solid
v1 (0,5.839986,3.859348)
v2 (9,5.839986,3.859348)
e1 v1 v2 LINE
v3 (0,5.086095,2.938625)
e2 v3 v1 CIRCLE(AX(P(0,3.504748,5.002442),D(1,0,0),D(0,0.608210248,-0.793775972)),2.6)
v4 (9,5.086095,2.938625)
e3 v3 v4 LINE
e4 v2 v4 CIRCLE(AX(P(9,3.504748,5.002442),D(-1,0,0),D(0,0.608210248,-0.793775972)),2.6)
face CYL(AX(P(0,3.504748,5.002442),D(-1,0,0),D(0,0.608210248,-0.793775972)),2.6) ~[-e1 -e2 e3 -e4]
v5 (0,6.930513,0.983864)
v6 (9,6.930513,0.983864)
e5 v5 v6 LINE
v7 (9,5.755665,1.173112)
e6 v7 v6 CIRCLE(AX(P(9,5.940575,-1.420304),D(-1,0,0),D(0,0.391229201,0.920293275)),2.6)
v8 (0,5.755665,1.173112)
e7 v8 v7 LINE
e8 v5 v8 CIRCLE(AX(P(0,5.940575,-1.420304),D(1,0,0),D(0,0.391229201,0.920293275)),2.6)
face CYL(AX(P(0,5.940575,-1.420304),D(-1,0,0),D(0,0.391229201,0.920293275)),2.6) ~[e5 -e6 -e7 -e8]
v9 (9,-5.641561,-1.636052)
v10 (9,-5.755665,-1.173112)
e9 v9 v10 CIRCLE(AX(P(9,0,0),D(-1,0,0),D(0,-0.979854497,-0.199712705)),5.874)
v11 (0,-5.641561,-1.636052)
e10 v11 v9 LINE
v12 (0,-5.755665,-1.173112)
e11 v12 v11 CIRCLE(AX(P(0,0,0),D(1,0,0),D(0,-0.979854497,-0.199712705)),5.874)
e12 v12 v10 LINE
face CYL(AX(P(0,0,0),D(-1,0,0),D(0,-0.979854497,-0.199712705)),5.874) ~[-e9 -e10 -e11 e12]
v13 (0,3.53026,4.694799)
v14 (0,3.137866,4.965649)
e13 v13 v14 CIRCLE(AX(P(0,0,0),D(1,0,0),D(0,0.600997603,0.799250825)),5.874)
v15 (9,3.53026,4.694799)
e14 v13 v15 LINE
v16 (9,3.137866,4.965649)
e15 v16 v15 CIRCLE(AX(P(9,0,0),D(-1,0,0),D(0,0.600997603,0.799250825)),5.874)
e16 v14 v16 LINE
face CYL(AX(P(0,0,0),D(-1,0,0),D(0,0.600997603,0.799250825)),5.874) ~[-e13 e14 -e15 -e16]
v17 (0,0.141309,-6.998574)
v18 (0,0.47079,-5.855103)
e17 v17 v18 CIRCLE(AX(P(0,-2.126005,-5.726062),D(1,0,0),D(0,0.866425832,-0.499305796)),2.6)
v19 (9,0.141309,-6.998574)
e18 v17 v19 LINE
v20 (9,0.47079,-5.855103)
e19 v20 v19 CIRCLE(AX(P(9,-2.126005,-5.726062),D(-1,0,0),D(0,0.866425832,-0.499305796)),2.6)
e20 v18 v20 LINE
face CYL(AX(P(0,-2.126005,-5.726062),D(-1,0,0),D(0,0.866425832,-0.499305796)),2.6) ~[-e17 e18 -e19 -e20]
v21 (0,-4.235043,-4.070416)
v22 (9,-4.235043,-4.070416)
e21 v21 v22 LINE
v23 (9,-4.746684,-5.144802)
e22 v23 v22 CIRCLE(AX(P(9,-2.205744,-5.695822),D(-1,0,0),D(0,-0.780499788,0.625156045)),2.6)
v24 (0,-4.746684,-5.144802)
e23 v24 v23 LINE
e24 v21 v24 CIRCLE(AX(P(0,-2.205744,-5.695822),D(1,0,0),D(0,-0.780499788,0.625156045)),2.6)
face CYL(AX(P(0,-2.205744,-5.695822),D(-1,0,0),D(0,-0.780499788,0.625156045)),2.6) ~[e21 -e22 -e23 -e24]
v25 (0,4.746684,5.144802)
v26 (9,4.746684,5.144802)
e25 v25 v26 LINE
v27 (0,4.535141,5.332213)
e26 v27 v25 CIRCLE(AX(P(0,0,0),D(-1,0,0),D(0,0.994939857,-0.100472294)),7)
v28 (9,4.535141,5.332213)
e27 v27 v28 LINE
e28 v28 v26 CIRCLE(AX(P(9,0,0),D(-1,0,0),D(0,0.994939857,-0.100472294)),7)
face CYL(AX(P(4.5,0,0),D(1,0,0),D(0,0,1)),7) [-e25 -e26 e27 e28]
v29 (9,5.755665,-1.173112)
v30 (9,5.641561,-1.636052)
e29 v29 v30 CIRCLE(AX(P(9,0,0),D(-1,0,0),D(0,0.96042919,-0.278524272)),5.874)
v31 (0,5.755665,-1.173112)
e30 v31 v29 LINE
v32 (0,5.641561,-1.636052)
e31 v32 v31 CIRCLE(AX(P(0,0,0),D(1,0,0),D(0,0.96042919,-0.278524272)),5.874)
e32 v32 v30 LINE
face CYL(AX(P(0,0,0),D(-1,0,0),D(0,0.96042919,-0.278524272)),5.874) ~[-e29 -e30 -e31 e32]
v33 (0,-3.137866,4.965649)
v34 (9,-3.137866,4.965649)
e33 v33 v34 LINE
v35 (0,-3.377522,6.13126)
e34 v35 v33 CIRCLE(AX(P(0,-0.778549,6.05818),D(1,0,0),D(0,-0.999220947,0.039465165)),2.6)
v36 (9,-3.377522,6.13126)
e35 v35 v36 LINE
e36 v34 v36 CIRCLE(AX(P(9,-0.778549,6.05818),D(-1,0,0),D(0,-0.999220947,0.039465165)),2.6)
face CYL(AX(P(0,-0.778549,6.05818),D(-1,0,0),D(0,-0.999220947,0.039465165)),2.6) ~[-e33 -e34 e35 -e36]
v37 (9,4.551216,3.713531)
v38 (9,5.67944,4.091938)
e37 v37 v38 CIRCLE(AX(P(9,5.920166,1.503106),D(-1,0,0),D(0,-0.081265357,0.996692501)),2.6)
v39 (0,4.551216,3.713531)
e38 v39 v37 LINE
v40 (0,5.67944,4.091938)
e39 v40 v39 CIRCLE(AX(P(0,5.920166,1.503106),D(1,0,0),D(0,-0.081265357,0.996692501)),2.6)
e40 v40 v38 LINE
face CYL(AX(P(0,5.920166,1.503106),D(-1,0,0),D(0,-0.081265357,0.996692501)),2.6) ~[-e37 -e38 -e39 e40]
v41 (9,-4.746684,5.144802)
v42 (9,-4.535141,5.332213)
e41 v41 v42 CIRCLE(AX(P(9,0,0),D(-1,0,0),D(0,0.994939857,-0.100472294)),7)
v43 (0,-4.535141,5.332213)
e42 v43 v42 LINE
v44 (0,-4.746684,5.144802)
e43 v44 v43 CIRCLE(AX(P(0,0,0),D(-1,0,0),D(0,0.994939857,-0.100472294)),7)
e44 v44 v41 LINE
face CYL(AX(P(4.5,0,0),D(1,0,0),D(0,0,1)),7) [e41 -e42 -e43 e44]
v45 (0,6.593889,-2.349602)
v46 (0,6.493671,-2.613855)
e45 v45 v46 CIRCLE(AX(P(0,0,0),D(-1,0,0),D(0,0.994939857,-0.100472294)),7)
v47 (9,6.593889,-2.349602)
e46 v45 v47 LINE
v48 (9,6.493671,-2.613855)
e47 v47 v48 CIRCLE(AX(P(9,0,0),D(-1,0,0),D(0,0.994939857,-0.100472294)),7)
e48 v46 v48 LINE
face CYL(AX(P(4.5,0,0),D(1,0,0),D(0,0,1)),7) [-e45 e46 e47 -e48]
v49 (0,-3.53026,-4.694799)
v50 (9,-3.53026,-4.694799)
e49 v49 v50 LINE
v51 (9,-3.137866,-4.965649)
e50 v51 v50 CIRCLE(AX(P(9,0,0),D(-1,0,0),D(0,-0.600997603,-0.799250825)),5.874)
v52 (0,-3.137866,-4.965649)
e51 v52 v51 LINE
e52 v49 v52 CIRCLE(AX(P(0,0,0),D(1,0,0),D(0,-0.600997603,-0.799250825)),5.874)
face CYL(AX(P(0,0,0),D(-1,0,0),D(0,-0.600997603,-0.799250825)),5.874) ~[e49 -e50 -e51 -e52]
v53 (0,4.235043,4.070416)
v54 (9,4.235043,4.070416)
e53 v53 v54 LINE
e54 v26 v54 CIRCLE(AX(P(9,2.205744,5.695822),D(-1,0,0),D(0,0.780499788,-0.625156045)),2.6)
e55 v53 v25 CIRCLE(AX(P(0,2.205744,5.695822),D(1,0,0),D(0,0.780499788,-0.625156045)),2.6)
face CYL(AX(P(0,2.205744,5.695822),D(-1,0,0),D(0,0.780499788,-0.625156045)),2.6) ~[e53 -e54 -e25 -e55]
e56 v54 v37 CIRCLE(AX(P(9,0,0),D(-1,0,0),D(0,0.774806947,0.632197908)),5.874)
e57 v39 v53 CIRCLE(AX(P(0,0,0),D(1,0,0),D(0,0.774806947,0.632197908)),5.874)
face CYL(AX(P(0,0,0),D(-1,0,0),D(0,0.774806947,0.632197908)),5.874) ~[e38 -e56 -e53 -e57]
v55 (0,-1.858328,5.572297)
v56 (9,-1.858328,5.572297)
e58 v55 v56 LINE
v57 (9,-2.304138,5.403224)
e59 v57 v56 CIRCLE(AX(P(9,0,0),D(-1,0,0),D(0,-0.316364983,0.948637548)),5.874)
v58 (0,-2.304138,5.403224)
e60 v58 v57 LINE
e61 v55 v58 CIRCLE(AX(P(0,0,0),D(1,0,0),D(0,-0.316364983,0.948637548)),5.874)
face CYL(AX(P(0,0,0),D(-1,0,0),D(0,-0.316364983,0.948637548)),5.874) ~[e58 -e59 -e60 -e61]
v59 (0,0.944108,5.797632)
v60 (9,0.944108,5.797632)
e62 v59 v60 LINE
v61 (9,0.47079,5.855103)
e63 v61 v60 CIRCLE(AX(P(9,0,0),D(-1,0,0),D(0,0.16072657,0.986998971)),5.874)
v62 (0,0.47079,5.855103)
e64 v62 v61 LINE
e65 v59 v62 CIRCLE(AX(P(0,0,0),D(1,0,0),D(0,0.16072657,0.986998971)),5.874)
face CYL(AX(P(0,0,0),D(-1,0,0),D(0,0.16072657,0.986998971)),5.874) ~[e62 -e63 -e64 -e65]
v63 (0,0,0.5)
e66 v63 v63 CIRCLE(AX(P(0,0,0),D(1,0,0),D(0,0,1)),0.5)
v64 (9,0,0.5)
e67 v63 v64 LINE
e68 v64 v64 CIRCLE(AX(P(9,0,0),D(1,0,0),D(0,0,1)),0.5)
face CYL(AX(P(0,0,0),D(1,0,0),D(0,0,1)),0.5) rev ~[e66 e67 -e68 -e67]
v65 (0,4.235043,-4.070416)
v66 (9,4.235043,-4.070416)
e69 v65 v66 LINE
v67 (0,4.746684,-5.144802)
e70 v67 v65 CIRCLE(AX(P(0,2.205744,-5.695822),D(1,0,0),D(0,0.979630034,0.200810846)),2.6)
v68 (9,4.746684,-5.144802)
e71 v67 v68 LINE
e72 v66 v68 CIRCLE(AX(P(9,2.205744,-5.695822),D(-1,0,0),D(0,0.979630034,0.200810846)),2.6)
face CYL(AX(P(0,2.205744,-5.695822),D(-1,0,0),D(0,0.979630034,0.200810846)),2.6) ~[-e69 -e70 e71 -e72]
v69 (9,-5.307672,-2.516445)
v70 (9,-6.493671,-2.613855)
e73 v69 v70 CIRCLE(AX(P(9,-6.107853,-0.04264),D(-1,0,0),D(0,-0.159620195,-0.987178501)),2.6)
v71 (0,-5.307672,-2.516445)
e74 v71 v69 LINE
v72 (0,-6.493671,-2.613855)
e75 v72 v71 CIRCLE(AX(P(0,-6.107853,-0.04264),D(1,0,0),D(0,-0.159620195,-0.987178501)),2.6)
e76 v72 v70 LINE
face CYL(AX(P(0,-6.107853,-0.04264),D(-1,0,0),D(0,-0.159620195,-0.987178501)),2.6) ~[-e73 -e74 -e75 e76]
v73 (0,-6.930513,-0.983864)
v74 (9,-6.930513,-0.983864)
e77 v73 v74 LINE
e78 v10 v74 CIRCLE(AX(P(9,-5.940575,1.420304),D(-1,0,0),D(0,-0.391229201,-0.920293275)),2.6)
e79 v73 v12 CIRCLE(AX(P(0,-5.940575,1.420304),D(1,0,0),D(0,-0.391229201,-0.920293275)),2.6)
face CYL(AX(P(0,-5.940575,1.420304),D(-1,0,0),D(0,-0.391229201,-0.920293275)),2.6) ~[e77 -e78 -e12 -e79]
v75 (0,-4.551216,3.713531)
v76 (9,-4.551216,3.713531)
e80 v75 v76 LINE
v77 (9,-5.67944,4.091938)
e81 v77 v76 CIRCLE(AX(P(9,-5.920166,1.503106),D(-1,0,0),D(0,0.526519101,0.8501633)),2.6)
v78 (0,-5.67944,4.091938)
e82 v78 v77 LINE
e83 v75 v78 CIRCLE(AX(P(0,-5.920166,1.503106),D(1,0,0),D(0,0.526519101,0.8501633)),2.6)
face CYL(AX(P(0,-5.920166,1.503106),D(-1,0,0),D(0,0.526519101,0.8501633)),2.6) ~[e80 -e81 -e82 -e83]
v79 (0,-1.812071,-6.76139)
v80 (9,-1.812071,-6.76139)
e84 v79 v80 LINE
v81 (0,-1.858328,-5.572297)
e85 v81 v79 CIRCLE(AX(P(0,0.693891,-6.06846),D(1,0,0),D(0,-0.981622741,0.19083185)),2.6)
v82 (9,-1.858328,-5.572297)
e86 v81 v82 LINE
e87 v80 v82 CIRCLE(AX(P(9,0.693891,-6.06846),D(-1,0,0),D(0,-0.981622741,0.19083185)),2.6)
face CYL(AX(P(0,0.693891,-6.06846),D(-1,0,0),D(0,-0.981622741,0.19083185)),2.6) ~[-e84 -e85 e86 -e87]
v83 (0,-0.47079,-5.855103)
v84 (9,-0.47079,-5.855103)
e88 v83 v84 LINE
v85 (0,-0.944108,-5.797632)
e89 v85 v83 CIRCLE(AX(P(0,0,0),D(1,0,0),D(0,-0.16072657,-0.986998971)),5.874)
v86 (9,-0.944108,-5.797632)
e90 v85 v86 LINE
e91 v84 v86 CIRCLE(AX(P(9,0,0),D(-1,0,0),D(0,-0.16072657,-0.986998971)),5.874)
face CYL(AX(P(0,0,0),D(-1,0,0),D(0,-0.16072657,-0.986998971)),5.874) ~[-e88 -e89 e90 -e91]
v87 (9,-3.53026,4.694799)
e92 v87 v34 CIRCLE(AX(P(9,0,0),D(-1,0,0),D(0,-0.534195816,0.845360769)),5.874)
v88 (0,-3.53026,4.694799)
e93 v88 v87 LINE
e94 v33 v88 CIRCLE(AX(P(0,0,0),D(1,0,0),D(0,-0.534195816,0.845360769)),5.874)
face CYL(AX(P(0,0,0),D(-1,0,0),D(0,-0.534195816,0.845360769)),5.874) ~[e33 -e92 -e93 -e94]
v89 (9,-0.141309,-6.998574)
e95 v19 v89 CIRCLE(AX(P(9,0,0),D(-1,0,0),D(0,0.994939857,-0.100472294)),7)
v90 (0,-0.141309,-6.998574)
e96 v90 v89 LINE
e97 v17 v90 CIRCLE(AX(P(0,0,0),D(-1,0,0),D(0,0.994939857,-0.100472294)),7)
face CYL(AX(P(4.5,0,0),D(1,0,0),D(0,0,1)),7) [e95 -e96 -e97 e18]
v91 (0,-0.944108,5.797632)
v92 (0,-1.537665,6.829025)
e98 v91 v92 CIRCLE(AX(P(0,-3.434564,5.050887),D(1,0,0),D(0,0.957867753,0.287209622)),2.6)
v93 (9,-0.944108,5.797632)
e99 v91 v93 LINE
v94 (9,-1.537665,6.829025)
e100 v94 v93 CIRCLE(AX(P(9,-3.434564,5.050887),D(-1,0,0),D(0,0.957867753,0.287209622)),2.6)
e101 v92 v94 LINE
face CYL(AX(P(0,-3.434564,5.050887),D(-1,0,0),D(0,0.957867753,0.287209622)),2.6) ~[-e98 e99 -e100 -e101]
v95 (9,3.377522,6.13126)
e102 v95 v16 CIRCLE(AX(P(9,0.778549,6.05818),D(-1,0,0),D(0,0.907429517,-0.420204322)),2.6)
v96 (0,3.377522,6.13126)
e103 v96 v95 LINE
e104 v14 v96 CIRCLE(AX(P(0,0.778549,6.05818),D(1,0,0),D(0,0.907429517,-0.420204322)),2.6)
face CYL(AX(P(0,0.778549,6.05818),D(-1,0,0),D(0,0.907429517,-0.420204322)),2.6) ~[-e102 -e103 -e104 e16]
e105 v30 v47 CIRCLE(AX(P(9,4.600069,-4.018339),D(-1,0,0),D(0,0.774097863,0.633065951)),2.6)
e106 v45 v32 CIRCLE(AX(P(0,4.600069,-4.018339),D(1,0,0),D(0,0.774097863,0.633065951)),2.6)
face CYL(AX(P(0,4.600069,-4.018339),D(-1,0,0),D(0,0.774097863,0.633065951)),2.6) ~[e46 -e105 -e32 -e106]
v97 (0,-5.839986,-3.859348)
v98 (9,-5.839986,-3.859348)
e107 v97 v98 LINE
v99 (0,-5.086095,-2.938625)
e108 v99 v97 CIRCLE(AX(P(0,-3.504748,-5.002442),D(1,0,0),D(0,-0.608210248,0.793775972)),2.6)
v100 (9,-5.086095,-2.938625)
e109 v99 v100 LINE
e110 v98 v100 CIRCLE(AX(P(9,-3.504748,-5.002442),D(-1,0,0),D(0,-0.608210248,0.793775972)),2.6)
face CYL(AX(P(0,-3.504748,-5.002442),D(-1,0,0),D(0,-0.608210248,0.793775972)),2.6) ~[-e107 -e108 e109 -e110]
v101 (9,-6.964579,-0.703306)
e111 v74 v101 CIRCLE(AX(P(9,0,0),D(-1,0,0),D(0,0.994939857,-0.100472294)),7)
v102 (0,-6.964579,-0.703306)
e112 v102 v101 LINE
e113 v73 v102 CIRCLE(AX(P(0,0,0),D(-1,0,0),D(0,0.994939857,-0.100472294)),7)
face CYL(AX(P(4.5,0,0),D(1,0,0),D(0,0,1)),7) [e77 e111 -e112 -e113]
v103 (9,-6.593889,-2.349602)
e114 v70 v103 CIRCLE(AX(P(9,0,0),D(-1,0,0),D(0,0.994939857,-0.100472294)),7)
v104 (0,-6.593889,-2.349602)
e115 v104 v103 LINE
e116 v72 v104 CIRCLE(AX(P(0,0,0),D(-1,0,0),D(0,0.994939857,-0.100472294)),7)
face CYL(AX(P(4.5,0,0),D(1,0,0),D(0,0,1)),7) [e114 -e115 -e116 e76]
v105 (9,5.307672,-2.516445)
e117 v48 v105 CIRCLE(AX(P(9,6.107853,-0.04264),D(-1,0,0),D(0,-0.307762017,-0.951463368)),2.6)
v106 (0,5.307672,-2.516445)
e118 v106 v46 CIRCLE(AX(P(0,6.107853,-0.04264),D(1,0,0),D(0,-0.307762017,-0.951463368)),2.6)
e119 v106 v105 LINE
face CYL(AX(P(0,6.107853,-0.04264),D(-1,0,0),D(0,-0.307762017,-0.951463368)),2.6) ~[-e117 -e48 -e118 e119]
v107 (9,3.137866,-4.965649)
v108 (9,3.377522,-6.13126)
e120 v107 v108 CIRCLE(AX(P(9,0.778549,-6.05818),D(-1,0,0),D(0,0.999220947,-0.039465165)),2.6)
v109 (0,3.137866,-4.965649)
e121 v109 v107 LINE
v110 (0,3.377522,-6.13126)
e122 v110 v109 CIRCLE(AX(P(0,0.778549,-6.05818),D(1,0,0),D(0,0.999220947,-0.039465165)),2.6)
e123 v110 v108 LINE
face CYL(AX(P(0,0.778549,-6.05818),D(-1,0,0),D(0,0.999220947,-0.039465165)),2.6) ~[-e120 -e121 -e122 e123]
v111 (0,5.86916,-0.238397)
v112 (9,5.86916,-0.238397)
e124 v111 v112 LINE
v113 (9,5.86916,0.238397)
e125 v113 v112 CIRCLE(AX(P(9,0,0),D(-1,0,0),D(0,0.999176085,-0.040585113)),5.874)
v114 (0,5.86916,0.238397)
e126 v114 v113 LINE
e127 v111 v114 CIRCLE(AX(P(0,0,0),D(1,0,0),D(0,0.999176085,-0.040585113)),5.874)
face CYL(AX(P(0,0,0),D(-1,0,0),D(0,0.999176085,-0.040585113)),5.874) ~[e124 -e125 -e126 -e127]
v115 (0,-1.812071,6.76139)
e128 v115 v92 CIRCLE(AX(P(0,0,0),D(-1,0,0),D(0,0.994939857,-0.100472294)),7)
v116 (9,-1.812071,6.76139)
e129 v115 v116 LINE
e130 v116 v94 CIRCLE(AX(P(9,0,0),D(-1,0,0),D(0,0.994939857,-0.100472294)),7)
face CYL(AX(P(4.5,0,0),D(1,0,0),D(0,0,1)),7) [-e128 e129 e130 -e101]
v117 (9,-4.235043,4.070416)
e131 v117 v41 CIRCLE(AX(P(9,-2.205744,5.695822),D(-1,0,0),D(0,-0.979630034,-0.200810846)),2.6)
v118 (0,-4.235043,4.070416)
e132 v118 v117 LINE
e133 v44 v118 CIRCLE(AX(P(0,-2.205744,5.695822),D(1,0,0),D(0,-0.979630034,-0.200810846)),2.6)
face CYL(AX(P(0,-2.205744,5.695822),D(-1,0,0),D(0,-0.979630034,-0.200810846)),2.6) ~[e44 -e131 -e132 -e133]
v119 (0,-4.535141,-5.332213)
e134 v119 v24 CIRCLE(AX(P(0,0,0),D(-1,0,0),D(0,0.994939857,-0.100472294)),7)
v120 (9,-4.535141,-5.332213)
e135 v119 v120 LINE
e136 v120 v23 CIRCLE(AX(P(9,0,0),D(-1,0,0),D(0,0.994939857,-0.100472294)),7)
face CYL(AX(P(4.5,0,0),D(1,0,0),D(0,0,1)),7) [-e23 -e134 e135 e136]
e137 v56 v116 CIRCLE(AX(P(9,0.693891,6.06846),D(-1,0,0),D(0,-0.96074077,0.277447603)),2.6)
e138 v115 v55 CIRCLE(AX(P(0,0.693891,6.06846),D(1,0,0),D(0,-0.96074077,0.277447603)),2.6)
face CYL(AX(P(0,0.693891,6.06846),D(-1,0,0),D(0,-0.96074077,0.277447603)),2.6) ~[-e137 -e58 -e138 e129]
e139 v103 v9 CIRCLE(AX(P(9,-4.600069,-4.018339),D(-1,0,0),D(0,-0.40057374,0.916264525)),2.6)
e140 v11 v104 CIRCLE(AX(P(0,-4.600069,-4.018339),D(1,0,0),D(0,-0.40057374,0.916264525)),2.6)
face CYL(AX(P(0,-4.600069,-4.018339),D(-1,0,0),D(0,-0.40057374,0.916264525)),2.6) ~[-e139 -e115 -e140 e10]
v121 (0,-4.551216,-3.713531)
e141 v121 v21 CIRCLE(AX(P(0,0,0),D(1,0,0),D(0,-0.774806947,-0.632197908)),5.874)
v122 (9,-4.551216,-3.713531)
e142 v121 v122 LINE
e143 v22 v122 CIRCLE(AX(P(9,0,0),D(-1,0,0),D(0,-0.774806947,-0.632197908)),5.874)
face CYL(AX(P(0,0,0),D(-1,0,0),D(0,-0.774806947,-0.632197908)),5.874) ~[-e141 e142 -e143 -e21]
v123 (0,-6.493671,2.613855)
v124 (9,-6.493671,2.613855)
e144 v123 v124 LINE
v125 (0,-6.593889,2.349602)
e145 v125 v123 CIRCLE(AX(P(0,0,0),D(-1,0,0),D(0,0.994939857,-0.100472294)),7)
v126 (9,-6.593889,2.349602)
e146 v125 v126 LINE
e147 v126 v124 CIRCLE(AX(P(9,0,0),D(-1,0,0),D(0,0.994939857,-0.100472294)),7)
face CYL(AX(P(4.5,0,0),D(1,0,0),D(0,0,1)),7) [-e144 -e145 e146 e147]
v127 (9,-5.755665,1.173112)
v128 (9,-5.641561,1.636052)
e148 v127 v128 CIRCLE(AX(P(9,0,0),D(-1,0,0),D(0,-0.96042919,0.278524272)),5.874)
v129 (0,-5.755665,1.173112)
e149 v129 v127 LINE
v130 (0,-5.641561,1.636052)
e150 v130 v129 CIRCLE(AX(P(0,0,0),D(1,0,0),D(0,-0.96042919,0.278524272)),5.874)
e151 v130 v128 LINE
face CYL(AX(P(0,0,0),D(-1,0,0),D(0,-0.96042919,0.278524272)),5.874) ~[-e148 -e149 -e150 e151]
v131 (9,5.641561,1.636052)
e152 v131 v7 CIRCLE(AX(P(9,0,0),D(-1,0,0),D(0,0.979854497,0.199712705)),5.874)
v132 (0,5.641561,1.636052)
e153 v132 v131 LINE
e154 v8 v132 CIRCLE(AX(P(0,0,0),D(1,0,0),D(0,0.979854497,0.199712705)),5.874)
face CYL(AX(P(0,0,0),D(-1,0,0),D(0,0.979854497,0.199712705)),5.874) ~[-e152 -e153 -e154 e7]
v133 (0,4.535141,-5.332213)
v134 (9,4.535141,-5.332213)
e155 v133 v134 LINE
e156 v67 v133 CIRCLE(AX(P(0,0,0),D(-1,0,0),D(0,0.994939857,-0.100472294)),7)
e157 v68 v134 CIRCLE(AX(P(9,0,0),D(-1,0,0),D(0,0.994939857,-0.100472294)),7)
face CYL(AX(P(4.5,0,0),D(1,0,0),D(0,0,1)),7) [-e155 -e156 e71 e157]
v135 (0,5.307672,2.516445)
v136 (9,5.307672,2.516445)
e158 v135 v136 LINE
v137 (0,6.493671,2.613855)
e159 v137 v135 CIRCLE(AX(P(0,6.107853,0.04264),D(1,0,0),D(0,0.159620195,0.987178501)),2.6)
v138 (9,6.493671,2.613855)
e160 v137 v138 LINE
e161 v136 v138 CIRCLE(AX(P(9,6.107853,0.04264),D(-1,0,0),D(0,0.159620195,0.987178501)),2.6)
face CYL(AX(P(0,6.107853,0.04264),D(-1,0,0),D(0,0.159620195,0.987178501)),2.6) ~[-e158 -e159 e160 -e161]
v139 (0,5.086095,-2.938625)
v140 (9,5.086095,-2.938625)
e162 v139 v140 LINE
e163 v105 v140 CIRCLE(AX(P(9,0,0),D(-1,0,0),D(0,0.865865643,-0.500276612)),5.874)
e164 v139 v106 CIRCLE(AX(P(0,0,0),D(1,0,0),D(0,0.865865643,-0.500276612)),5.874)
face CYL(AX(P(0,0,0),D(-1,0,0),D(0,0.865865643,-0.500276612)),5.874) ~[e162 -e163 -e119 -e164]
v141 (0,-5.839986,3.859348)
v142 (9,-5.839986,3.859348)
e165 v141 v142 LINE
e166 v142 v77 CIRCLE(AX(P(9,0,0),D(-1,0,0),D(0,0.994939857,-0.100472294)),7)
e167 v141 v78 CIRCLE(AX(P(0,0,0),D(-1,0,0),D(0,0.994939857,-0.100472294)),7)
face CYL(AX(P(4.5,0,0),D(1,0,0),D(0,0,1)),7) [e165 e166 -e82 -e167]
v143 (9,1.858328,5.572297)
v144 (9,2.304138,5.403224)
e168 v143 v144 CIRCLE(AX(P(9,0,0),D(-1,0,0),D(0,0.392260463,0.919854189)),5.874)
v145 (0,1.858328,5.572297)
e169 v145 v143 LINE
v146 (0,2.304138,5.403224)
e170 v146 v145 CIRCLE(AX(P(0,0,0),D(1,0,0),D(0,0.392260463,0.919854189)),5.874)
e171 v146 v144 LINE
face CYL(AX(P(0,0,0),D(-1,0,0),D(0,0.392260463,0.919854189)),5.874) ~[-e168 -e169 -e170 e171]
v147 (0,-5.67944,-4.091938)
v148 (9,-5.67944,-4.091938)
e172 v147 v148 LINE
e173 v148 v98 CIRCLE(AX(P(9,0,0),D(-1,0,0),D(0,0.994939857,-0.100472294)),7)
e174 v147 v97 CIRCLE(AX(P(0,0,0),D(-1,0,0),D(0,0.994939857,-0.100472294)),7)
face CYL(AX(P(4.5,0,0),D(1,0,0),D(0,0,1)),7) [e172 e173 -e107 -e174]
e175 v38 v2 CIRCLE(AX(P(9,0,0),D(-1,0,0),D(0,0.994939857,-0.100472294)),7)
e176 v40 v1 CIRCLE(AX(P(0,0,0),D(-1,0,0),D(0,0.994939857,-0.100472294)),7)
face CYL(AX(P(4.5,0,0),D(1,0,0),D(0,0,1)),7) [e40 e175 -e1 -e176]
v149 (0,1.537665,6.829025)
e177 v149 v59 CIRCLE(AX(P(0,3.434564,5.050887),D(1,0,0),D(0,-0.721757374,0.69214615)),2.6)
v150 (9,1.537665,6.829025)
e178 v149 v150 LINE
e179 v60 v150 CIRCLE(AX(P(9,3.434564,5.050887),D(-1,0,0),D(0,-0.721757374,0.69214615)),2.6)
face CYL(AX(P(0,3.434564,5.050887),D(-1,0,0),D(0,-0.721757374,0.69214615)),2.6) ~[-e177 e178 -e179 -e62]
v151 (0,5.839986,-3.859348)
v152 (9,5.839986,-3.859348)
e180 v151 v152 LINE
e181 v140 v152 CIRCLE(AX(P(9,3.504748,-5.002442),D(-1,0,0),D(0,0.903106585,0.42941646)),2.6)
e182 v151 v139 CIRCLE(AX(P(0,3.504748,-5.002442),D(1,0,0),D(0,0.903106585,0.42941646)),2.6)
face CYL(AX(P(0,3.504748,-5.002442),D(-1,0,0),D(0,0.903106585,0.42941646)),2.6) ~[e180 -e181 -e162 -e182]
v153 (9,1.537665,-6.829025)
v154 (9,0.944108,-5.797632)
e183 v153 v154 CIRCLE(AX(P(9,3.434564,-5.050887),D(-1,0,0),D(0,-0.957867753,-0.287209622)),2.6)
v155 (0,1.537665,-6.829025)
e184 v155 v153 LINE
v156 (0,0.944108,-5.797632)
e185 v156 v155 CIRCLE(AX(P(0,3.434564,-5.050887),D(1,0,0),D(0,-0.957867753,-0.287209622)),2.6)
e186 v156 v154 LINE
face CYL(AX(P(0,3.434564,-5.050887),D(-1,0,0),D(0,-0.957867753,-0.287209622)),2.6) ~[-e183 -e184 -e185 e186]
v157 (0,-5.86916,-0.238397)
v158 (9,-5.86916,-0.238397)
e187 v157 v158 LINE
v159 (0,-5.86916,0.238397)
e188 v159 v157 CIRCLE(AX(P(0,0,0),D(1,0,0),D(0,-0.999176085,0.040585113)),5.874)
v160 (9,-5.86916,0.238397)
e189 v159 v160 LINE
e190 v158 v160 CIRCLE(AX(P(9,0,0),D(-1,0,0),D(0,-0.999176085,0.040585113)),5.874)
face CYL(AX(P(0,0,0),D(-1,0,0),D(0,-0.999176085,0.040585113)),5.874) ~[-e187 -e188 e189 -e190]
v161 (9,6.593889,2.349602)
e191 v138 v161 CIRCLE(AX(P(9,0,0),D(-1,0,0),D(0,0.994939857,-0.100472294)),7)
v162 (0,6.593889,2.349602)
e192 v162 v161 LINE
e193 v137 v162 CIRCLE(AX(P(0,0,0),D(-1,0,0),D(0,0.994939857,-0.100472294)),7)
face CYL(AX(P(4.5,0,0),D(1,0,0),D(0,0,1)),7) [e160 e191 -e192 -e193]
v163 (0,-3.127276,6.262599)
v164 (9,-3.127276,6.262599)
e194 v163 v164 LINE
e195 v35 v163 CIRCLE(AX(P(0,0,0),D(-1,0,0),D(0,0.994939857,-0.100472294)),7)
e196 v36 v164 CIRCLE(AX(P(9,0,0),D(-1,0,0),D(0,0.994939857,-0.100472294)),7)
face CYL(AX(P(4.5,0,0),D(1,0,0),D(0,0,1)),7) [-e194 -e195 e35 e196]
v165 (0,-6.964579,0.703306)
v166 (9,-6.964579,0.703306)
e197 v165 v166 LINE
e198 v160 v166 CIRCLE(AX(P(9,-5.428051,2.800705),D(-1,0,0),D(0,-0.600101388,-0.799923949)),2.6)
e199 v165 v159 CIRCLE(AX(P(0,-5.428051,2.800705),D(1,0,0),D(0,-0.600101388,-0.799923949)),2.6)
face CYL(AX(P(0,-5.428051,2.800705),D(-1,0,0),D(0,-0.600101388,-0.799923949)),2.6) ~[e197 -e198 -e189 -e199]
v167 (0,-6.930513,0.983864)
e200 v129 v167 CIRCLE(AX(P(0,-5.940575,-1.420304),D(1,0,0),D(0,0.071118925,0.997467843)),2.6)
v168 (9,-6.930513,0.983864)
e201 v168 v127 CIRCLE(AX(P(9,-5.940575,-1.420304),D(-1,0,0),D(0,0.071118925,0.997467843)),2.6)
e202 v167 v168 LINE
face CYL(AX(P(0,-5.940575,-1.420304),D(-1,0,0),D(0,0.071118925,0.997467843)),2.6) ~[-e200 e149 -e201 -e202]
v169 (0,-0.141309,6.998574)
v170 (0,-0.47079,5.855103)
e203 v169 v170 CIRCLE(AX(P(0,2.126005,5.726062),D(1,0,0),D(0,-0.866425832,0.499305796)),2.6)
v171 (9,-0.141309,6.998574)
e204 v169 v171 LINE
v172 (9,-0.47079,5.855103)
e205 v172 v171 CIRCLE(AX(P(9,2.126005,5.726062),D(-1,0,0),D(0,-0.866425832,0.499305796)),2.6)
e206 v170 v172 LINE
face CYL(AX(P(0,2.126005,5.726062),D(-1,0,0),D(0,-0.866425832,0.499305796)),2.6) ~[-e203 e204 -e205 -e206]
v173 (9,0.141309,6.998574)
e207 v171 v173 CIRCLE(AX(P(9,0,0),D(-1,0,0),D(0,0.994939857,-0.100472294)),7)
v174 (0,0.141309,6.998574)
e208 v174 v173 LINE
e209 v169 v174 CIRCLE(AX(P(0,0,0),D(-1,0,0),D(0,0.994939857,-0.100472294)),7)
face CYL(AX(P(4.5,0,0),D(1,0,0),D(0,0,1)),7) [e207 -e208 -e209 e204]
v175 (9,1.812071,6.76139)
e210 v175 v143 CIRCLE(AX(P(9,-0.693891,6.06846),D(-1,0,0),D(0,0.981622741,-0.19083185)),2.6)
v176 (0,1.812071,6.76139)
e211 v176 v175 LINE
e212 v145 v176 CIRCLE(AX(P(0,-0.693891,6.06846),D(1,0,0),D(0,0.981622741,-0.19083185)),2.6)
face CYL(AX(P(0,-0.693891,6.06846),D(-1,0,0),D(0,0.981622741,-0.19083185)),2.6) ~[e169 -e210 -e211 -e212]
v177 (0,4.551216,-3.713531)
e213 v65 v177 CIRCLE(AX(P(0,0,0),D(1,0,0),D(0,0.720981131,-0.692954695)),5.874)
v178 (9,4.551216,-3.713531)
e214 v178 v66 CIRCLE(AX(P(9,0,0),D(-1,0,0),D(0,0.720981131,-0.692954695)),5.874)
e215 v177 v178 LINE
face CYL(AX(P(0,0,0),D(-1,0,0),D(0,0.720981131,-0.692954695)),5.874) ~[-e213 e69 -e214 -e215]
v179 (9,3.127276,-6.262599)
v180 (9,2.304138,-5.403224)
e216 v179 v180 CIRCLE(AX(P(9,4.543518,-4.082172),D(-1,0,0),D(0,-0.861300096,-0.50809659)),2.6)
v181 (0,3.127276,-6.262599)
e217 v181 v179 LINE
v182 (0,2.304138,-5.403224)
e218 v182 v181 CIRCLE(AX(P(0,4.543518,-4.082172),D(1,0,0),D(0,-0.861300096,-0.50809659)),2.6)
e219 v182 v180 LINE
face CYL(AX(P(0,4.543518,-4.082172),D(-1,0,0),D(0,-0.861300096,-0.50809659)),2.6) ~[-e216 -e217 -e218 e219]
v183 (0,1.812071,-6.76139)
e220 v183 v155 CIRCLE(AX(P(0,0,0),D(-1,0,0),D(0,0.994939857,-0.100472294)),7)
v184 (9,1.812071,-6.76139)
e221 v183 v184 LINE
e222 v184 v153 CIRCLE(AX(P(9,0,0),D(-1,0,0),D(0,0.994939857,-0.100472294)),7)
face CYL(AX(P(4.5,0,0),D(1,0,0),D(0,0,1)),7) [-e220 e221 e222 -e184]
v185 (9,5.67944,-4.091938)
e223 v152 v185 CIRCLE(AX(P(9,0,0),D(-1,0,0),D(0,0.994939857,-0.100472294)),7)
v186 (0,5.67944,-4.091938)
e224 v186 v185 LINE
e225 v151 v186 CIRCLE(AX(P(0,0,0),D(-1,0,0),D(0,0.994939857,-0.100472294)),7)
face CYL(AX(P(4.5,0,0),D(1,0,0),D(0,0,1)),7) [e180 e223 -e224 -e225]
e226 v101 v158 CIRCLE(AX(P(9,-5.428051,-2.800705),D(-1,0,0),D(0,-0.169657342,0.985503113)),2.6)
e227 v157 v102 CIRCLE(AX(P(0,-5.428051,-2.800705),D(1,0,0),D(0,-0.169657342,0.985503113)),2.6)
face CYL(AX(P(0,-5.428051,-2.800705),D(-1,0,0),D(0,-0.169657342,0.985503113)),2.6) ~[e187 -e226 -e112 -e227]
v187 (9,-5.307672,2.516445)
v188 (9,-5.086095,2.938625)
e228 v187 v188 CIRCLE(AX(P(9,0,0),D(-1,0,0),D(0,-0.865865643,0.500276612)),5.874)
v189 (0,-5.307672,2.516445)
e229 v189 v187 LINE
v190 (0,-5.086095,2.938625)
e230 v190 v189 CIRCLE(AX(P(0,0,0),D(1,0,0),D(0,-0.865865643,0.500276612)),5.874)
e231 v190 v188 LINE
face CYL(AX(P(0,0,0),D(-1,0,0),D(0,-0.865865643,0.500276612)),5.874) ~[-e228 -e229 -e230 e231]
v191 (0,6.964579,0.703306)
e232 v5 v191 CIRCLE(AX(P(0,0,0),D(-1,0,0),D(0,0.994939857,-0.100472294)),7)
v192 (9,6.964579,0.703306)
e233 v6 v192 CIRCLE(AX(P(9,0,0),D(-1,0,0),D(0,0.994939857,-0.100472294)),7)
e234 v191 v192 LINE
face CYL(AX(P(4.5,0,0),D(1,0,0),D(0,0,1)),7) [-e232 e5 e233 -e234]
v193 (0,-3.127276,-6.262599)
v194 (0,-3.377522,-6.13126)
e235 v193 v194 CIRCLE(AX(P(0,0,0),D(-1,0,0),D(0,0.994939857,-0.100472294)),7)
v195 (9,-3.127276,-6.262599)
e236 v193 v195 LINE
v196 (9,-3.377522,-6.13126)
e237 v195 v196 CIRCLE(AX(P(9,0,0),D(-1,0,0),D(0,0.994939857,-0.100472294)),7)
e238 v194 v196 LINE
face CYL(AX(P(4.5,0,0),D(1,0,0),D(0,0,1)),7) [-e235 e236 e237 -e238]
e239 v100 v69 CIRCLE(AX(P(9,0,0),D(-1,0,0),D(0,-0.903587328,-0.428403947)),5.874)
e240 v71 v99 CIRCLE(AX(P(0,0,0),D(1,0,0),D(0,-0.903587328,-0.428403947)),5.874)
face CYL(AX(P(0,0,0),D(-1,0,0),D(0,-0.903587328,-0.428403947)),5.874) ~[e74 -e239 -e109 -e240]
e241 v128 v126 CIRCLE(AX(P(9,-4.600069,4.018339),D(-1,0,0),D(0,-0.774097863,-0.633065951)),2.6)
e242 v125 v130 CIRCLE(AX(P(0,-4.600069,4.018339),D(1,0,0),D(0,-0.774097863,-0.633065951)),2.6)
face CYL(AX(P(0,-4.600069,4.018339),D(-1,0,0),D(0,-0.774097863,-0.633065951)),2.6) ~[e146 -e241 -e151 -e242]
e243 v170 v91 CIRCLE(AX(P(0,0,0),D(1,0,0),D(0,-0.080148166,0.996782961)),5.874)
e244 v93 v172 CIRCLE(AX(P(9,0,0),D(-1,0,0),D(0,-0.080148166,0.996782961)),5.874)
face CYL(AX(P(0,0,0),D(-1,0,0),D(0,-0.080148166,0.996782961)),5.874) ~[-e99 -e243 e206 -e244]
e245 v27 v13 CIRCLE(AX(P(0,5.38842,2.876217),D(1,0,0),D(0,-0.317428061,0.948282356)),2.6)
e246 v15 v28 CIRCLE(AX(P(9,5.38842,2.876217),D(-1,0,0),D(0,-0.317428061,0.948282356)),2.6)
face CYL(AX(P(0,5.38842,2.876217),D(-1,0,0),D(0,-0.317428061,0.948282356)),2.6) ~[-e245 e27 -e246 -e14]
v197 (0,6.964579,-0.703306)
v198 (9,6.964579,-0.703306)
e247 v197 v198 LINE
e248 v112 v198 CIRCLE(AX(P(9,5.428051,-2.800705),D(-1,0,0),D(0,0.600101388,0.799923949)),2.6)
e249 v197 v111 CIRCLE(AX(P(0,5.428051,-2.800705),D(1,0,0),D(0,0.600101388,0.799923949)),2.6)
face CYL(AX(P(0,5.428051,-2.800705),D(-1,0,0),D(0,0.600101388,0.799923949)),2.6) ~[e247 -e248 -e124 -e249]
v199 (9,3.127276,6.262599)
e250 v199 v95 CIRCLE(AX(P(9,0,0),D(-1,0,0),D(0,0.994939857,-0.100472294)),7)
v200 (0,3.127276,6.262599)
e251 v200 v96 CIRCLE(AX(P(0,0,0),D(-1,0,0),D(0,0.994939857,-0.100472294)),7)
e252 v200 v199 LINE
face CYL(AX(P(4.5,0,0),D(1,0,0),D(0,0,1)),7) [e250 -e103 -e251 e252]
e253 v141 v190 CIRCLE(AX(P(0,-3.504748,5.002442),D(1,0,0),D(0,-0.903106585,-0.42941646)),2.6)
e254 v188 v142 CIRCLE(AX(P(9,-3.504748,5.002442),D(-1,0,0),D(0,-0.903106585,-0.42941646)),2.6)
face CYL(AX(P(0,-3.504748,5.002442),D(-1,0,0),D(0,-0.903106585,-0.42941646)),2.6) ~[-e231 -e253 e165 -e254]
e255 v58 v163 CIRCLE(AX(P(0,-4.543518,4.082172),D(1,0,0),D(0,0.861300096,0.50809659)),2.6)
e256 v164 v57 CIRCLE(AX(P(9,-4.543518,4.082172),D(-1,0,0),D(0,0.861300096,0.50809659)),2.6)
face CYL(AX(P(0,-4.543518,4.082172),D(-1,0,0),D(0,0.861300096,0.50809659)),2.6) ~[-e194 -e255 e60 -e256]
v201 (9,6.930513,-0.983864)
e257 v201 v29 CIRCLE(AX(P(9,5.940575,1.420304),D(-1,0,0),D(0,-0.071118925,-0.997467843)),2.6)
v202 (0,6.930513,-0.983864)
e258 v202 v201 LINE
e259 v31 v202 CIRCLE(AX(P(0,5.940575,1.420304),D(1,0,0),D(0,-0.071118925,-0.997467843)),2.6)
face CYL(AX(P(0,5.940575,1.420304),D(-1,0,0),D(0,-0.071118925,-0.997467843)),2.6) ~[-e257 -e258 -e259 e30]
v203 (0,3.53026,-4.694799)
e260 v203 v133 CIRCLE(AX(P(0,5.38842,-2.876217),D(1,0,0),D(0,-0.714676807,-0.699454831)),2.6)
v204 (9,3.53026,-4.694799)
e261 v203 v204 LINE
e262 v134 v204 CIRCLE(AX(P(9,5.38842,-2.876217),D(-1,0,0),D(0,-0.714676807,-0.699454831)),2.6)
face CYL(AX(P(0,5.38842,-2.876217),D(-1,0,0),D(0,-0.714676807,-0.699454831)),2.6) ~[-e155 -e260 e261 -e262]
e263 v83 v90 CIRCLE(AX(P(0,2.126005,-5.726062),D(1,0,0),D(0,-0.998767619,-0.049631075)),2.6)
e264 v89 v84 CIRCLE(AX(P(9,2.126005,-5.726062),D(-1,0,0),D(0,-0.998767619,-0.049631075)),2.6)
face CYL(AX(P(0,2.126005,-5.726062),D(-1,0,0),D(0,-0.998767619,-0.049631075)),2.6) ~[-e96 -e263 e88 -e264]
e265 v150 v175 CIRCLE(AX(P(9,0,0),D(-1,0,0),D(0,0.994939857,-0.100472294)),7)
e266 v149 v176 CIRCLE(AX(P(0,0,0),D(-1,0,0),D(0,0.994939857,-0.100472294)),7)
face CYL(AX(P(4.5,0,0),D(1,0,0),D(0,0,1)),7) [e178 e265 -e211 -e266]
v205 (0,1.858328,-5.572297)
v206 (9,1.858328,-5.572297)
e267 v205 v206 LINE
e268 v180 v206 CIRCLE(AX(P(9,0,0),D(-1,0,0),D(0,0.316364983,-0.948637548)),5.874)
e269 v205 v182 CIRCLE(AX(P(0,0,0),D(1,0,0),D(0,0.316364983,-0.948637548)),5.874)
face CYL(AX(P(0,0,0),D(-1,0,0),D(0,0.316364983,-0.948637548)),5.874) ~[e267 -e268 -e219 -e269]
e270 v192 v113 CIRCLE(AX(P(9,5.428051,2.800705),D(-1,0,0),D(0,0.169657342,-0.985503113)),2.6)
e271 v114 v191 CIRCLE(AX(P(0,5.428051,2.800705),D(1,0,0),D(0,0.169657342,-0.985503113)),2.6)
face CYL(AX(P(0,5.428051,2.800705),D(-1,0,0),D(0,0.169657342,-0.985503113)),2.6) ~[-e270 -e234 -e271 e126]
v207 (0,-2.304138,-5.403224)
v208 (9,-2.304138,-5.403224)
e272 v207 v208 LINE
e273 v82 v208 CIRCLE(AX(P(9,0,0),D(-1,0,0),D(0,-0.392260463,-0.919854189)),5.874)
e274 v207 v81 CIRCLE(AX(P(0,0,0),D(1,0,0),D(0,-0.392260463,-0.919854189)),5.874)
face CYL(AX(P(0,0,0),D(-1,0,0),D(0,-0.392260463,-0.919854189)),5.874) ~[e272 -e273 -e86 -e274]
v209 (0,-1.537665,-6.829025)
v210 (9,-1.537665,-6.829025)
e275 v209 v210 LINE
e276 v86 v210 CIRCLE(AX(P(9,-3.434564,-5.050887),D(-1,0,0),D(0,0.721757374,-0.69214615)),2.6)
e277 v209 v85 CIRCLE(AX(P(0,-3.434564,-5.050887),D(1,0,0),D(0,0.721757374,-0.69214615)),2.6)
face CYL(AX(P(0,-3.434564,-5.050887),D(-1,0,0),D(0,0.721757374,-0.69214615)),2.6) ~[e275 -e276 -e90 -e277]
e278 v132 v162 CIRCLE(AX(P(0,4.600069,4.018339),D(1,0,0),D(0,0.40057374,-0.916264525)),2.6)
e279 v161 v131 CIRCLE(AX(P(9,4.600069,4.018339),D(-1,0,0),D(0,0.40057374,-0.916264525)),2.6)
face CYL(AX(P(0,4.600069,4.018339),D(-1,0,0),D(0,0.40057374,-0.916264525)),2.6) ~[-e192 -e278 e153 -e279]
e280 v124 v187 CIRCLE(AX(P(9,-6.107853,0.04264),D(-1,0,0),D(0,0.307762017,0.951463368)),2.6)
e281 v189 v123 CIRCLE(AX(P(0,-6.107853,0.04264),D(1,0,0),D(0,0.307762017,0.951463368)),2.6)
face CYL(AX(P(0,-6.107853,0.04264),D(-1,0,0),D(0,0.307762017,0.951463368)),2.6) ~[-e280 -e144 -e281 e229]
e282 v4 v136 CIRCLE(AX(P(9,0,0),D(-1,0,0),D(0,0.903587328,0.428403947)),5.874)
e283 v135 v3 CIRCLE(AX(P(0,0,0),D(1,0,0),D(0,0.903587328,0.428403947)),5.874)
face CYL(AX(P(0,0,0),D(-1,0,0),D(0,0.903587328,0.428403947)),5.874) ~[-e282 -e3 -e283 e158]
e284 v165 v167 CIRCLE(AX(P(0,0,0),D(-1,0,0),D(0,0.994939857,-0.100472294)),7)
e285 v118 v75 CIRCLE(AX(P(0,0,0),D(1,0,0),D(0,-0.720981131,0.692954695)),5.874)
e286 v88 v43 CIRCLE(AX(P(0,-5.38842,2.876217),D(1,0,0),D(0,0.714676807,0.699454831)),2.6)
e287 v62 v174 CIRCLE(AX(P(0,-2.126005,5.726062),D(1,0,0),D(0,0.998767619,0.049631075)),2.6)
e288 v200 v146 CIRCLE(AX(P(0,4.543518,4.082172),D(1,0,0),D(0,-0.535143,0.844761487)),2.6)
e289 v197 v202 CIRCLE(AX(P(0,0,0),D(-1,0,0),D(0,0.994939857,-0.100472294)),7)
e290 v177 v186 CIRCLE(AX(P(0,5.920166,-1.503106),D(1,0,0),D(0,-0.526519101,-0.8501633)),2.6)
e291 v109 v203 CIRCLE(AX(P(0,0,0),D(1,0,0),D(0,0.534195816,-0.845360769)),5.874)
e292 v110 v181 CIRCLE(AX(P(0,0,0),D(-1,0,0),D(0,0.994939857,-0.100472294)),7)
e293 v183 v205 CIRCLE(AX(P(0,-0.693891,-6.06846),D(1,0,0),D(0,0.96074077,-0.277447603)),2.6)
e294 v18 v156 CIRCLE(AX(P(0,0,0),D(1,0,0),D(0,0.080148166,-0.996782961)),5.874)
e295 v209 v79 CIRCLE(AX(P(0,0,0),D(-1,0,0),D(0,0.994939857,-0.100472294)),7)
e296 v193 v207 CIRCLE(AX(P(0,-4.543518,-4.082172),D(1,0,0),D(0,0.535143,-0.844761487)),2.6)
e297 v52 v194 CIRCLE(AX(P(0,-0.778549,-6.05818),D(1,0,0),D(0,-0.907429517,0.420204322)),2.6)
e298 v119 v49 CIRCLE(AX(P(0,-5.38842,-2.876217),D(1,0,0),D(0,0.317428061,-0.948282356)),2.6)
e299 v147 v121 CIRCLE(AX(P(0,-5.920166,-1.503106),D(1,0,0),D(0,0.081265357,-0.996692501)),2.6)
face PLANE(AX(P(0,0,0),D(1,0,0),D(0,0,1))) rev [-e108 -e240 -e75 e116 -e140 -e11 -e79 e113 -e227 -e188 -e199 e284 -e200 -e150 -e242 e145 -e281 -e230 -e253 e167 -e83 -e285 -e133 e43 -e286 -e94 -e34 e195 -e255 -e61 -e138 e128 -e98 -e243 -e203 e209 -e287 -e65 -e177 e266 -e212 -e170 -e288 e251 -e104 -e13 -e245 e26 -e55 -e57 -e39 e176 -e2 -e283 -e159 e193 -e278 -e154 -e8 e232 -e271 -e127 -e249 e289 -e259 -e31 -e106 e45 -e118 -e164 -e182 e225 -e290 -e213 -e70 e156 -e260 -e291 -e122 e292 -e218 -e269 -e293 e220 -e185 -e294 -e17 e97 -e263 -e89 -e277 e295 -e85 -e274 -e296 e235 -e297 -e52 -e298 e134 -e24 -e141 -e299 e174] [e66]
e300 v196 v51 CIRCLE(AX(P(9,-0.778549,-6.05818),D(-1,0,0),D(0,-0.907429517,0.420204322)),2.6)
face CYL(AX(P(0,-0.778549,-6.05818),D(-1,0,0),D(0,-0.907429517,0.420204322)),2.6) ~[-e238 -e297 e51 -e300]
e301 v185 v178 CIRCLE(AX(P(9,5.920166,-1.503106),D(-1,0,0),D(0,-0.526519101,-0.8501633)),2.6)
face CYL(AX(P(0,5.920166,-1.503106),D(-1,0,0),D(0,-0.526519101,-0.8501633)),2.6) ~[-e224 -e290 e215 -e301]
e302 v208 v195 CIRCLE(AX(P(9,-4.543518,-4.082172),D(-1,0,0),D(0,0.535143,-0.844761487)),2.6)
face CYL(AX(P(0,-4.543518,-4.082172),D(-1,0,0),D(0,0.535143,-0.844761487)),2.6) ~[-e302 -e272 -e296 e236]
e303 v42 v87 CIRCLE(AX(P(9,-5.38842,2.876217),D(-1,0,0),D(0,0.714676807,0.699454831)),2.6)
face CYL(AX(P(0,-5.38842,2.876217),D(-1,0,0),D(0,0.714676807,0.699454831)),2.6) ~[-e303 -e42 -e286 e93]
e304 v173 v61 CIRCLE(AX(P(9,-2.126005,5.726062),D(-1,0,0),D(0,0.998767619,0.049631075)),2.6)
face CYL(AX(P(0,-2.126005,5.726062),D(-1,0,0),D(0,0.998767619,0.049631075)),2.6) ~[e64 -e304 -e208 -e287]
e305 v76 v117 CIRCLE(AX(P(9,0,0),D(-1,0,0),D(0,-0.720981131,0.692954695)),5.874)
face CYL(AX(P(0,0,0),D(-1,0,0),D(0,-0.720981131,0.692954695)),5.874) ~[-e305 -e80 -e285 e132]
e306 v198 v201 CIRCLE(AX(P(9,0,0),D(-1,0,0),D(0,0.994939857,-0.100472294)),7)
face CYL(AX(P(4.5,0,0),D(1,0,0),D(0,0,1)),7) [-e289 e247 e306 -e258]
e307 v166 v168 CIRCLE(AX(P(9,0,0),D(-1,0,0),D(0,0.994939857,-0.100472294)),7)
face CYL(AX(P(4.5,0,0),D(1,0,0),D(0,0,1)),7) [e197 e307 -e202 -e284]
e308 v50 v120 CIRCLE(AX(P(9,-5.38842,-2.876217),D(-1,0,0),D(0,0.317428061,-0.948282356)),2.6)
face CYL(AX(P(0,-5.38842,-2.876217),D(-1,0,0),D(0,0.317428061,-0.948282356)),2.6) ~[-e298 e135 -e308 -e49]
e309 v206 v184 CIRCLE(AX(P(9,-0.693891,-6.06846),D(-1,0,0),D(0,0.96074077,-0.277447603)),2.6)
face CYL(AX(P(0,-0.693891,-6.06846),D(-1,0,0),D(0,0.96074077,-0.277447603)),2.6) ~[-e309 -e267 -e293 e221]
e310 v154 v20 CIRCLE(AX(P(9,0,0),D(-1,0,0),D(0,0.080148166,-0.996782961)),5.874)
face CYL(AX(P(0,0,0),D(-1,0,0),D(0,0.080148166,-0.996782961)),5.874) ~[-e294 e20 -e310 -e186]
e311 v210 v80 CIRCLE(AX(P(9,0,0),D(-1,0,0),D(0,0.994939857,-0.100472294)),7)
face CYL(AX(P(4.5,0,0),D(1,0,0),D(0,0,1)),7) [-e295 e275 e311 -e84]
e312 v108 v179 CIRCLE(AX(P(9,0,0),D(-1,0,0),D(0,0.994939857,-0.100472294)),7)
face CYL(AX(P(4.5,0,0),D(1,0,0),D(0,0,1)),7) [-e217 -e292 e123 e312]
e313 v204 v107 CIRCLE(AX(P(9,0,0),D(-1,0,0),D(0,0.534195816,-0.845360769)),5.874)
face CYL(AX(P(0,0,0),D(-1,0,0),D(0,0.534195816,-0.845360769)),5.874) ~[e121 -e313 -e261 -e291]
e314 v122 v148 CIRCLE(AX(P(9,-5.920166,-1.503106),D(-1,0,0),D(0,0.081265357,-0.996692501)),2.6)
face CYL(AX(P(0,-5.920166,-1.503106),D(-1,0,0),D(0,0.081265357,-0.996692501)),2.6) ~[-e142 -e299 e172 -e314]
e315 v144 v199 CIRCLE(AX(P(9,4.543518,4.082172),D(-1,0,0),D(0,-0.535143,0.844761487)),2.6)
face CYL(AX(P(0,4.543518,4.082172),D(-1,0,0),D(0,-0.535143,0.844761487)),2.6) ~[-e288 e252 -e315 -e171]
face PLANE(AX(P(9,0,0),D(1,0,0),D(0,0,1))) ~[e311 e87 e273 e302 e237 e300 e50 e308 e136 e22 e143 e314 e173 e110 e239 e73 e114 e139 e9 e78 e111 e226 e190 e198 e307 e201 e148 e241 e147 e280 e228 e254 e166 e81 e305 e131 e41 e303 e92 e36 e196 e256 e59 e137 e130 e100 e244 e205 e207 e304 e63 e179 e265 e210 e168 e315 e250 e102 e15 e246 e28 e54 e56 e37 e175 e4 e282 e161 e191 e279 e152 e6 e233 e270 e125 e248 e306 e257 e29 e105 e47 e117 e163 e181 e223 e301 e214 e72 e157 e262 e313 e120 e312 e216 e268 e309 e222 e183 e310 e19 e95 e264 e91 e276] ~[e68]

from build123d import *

# Parameters (mm, degrees)
BASPROSKE_W     = 9
BASPROSKE_H     = 7
TOOTHCUT_DEPTH  = 14.37908816
TEETHCUTS_COUNT = 26
TEETHCUTS_ANGLE = 346.153846154
BORSKE_R        = 0.5
BORE_DEPTH      = 50.0000508


with BuildPart() as part:
    # BasProSke → Base-Revolve (revolve)
    with BuildSketch(Plane(origin=(0, 0, 0), x_dir=(1, 0, 0), z_dir=(0, 1, 0)), mode=Mode.PRIVATE) as base_revolve_sk:
        with Locations((4.5, 3.5)):
            Rectangle(BASPROSKE_W, BASPROSKE_H)
    revolve(base_revolve_sk.sketch.rotate(Axis((-10, 0, 0), (1, 0, 0)), 180), axis=Axis((-10, 0, 0), (1, 0, 0)))

    # TooCutSke → ToothCut (cut, through all)
    with BuildSketch(Plane(origin=(0, 0, 0), x_dir=(0, 0, -1), z_dir=(1, 0, 0))):
        with BuildLine():
            ThreePointArc((0.238396934, 5.869160323), (0, 5.874), (-0.238396934, 5.869160323))
            ThreePointArc((-0.238396934, 5.869160323), (-0.413148985, 6.457408383), (-0.720902762, 6.988314845))
            ThreePointArc((-0.720902762, 6.988314845), (0, 7.0254), (0.720902762, 6.988314845))
            ThreePointArc((0.720902762, 6.988314845), (0.413148985, 6.457408383), (0.238396934, 5.869160323))
        make_face()
    toothcut = extrude(amount=TOOTHCUT_DEPTH, mode=Mode.SUBTRACT)

    # TeethCuts: ToothCut ×26 about axis
    teethcuts_axis = Axis((-10, 0, 0), (1, 0, 0))
    for i in range(1, TEETHCUTS_COUNT):
        add(toothcut.rotate(teethcuts_axis, i * TEETHCUTS_ANGLE / (TEETHCUTS_COUNT - 1)), mode=Mode.SUBTRACT)

    # BorSke → Bore (cut, symmetric)
    with BuildSketch(Plane(origin=(0, 0, 0), x_dir=(0, 0, -1), z_dir=(1, 0, 0))):
        with Locations(Location((0, 0, 0), (0, 0, 180))):
            Circle(BORSKE_R)
    extrude(amount=BORE_DEPTH, both=True, mode=Mode.SUBTRACT)


solid = part.part
